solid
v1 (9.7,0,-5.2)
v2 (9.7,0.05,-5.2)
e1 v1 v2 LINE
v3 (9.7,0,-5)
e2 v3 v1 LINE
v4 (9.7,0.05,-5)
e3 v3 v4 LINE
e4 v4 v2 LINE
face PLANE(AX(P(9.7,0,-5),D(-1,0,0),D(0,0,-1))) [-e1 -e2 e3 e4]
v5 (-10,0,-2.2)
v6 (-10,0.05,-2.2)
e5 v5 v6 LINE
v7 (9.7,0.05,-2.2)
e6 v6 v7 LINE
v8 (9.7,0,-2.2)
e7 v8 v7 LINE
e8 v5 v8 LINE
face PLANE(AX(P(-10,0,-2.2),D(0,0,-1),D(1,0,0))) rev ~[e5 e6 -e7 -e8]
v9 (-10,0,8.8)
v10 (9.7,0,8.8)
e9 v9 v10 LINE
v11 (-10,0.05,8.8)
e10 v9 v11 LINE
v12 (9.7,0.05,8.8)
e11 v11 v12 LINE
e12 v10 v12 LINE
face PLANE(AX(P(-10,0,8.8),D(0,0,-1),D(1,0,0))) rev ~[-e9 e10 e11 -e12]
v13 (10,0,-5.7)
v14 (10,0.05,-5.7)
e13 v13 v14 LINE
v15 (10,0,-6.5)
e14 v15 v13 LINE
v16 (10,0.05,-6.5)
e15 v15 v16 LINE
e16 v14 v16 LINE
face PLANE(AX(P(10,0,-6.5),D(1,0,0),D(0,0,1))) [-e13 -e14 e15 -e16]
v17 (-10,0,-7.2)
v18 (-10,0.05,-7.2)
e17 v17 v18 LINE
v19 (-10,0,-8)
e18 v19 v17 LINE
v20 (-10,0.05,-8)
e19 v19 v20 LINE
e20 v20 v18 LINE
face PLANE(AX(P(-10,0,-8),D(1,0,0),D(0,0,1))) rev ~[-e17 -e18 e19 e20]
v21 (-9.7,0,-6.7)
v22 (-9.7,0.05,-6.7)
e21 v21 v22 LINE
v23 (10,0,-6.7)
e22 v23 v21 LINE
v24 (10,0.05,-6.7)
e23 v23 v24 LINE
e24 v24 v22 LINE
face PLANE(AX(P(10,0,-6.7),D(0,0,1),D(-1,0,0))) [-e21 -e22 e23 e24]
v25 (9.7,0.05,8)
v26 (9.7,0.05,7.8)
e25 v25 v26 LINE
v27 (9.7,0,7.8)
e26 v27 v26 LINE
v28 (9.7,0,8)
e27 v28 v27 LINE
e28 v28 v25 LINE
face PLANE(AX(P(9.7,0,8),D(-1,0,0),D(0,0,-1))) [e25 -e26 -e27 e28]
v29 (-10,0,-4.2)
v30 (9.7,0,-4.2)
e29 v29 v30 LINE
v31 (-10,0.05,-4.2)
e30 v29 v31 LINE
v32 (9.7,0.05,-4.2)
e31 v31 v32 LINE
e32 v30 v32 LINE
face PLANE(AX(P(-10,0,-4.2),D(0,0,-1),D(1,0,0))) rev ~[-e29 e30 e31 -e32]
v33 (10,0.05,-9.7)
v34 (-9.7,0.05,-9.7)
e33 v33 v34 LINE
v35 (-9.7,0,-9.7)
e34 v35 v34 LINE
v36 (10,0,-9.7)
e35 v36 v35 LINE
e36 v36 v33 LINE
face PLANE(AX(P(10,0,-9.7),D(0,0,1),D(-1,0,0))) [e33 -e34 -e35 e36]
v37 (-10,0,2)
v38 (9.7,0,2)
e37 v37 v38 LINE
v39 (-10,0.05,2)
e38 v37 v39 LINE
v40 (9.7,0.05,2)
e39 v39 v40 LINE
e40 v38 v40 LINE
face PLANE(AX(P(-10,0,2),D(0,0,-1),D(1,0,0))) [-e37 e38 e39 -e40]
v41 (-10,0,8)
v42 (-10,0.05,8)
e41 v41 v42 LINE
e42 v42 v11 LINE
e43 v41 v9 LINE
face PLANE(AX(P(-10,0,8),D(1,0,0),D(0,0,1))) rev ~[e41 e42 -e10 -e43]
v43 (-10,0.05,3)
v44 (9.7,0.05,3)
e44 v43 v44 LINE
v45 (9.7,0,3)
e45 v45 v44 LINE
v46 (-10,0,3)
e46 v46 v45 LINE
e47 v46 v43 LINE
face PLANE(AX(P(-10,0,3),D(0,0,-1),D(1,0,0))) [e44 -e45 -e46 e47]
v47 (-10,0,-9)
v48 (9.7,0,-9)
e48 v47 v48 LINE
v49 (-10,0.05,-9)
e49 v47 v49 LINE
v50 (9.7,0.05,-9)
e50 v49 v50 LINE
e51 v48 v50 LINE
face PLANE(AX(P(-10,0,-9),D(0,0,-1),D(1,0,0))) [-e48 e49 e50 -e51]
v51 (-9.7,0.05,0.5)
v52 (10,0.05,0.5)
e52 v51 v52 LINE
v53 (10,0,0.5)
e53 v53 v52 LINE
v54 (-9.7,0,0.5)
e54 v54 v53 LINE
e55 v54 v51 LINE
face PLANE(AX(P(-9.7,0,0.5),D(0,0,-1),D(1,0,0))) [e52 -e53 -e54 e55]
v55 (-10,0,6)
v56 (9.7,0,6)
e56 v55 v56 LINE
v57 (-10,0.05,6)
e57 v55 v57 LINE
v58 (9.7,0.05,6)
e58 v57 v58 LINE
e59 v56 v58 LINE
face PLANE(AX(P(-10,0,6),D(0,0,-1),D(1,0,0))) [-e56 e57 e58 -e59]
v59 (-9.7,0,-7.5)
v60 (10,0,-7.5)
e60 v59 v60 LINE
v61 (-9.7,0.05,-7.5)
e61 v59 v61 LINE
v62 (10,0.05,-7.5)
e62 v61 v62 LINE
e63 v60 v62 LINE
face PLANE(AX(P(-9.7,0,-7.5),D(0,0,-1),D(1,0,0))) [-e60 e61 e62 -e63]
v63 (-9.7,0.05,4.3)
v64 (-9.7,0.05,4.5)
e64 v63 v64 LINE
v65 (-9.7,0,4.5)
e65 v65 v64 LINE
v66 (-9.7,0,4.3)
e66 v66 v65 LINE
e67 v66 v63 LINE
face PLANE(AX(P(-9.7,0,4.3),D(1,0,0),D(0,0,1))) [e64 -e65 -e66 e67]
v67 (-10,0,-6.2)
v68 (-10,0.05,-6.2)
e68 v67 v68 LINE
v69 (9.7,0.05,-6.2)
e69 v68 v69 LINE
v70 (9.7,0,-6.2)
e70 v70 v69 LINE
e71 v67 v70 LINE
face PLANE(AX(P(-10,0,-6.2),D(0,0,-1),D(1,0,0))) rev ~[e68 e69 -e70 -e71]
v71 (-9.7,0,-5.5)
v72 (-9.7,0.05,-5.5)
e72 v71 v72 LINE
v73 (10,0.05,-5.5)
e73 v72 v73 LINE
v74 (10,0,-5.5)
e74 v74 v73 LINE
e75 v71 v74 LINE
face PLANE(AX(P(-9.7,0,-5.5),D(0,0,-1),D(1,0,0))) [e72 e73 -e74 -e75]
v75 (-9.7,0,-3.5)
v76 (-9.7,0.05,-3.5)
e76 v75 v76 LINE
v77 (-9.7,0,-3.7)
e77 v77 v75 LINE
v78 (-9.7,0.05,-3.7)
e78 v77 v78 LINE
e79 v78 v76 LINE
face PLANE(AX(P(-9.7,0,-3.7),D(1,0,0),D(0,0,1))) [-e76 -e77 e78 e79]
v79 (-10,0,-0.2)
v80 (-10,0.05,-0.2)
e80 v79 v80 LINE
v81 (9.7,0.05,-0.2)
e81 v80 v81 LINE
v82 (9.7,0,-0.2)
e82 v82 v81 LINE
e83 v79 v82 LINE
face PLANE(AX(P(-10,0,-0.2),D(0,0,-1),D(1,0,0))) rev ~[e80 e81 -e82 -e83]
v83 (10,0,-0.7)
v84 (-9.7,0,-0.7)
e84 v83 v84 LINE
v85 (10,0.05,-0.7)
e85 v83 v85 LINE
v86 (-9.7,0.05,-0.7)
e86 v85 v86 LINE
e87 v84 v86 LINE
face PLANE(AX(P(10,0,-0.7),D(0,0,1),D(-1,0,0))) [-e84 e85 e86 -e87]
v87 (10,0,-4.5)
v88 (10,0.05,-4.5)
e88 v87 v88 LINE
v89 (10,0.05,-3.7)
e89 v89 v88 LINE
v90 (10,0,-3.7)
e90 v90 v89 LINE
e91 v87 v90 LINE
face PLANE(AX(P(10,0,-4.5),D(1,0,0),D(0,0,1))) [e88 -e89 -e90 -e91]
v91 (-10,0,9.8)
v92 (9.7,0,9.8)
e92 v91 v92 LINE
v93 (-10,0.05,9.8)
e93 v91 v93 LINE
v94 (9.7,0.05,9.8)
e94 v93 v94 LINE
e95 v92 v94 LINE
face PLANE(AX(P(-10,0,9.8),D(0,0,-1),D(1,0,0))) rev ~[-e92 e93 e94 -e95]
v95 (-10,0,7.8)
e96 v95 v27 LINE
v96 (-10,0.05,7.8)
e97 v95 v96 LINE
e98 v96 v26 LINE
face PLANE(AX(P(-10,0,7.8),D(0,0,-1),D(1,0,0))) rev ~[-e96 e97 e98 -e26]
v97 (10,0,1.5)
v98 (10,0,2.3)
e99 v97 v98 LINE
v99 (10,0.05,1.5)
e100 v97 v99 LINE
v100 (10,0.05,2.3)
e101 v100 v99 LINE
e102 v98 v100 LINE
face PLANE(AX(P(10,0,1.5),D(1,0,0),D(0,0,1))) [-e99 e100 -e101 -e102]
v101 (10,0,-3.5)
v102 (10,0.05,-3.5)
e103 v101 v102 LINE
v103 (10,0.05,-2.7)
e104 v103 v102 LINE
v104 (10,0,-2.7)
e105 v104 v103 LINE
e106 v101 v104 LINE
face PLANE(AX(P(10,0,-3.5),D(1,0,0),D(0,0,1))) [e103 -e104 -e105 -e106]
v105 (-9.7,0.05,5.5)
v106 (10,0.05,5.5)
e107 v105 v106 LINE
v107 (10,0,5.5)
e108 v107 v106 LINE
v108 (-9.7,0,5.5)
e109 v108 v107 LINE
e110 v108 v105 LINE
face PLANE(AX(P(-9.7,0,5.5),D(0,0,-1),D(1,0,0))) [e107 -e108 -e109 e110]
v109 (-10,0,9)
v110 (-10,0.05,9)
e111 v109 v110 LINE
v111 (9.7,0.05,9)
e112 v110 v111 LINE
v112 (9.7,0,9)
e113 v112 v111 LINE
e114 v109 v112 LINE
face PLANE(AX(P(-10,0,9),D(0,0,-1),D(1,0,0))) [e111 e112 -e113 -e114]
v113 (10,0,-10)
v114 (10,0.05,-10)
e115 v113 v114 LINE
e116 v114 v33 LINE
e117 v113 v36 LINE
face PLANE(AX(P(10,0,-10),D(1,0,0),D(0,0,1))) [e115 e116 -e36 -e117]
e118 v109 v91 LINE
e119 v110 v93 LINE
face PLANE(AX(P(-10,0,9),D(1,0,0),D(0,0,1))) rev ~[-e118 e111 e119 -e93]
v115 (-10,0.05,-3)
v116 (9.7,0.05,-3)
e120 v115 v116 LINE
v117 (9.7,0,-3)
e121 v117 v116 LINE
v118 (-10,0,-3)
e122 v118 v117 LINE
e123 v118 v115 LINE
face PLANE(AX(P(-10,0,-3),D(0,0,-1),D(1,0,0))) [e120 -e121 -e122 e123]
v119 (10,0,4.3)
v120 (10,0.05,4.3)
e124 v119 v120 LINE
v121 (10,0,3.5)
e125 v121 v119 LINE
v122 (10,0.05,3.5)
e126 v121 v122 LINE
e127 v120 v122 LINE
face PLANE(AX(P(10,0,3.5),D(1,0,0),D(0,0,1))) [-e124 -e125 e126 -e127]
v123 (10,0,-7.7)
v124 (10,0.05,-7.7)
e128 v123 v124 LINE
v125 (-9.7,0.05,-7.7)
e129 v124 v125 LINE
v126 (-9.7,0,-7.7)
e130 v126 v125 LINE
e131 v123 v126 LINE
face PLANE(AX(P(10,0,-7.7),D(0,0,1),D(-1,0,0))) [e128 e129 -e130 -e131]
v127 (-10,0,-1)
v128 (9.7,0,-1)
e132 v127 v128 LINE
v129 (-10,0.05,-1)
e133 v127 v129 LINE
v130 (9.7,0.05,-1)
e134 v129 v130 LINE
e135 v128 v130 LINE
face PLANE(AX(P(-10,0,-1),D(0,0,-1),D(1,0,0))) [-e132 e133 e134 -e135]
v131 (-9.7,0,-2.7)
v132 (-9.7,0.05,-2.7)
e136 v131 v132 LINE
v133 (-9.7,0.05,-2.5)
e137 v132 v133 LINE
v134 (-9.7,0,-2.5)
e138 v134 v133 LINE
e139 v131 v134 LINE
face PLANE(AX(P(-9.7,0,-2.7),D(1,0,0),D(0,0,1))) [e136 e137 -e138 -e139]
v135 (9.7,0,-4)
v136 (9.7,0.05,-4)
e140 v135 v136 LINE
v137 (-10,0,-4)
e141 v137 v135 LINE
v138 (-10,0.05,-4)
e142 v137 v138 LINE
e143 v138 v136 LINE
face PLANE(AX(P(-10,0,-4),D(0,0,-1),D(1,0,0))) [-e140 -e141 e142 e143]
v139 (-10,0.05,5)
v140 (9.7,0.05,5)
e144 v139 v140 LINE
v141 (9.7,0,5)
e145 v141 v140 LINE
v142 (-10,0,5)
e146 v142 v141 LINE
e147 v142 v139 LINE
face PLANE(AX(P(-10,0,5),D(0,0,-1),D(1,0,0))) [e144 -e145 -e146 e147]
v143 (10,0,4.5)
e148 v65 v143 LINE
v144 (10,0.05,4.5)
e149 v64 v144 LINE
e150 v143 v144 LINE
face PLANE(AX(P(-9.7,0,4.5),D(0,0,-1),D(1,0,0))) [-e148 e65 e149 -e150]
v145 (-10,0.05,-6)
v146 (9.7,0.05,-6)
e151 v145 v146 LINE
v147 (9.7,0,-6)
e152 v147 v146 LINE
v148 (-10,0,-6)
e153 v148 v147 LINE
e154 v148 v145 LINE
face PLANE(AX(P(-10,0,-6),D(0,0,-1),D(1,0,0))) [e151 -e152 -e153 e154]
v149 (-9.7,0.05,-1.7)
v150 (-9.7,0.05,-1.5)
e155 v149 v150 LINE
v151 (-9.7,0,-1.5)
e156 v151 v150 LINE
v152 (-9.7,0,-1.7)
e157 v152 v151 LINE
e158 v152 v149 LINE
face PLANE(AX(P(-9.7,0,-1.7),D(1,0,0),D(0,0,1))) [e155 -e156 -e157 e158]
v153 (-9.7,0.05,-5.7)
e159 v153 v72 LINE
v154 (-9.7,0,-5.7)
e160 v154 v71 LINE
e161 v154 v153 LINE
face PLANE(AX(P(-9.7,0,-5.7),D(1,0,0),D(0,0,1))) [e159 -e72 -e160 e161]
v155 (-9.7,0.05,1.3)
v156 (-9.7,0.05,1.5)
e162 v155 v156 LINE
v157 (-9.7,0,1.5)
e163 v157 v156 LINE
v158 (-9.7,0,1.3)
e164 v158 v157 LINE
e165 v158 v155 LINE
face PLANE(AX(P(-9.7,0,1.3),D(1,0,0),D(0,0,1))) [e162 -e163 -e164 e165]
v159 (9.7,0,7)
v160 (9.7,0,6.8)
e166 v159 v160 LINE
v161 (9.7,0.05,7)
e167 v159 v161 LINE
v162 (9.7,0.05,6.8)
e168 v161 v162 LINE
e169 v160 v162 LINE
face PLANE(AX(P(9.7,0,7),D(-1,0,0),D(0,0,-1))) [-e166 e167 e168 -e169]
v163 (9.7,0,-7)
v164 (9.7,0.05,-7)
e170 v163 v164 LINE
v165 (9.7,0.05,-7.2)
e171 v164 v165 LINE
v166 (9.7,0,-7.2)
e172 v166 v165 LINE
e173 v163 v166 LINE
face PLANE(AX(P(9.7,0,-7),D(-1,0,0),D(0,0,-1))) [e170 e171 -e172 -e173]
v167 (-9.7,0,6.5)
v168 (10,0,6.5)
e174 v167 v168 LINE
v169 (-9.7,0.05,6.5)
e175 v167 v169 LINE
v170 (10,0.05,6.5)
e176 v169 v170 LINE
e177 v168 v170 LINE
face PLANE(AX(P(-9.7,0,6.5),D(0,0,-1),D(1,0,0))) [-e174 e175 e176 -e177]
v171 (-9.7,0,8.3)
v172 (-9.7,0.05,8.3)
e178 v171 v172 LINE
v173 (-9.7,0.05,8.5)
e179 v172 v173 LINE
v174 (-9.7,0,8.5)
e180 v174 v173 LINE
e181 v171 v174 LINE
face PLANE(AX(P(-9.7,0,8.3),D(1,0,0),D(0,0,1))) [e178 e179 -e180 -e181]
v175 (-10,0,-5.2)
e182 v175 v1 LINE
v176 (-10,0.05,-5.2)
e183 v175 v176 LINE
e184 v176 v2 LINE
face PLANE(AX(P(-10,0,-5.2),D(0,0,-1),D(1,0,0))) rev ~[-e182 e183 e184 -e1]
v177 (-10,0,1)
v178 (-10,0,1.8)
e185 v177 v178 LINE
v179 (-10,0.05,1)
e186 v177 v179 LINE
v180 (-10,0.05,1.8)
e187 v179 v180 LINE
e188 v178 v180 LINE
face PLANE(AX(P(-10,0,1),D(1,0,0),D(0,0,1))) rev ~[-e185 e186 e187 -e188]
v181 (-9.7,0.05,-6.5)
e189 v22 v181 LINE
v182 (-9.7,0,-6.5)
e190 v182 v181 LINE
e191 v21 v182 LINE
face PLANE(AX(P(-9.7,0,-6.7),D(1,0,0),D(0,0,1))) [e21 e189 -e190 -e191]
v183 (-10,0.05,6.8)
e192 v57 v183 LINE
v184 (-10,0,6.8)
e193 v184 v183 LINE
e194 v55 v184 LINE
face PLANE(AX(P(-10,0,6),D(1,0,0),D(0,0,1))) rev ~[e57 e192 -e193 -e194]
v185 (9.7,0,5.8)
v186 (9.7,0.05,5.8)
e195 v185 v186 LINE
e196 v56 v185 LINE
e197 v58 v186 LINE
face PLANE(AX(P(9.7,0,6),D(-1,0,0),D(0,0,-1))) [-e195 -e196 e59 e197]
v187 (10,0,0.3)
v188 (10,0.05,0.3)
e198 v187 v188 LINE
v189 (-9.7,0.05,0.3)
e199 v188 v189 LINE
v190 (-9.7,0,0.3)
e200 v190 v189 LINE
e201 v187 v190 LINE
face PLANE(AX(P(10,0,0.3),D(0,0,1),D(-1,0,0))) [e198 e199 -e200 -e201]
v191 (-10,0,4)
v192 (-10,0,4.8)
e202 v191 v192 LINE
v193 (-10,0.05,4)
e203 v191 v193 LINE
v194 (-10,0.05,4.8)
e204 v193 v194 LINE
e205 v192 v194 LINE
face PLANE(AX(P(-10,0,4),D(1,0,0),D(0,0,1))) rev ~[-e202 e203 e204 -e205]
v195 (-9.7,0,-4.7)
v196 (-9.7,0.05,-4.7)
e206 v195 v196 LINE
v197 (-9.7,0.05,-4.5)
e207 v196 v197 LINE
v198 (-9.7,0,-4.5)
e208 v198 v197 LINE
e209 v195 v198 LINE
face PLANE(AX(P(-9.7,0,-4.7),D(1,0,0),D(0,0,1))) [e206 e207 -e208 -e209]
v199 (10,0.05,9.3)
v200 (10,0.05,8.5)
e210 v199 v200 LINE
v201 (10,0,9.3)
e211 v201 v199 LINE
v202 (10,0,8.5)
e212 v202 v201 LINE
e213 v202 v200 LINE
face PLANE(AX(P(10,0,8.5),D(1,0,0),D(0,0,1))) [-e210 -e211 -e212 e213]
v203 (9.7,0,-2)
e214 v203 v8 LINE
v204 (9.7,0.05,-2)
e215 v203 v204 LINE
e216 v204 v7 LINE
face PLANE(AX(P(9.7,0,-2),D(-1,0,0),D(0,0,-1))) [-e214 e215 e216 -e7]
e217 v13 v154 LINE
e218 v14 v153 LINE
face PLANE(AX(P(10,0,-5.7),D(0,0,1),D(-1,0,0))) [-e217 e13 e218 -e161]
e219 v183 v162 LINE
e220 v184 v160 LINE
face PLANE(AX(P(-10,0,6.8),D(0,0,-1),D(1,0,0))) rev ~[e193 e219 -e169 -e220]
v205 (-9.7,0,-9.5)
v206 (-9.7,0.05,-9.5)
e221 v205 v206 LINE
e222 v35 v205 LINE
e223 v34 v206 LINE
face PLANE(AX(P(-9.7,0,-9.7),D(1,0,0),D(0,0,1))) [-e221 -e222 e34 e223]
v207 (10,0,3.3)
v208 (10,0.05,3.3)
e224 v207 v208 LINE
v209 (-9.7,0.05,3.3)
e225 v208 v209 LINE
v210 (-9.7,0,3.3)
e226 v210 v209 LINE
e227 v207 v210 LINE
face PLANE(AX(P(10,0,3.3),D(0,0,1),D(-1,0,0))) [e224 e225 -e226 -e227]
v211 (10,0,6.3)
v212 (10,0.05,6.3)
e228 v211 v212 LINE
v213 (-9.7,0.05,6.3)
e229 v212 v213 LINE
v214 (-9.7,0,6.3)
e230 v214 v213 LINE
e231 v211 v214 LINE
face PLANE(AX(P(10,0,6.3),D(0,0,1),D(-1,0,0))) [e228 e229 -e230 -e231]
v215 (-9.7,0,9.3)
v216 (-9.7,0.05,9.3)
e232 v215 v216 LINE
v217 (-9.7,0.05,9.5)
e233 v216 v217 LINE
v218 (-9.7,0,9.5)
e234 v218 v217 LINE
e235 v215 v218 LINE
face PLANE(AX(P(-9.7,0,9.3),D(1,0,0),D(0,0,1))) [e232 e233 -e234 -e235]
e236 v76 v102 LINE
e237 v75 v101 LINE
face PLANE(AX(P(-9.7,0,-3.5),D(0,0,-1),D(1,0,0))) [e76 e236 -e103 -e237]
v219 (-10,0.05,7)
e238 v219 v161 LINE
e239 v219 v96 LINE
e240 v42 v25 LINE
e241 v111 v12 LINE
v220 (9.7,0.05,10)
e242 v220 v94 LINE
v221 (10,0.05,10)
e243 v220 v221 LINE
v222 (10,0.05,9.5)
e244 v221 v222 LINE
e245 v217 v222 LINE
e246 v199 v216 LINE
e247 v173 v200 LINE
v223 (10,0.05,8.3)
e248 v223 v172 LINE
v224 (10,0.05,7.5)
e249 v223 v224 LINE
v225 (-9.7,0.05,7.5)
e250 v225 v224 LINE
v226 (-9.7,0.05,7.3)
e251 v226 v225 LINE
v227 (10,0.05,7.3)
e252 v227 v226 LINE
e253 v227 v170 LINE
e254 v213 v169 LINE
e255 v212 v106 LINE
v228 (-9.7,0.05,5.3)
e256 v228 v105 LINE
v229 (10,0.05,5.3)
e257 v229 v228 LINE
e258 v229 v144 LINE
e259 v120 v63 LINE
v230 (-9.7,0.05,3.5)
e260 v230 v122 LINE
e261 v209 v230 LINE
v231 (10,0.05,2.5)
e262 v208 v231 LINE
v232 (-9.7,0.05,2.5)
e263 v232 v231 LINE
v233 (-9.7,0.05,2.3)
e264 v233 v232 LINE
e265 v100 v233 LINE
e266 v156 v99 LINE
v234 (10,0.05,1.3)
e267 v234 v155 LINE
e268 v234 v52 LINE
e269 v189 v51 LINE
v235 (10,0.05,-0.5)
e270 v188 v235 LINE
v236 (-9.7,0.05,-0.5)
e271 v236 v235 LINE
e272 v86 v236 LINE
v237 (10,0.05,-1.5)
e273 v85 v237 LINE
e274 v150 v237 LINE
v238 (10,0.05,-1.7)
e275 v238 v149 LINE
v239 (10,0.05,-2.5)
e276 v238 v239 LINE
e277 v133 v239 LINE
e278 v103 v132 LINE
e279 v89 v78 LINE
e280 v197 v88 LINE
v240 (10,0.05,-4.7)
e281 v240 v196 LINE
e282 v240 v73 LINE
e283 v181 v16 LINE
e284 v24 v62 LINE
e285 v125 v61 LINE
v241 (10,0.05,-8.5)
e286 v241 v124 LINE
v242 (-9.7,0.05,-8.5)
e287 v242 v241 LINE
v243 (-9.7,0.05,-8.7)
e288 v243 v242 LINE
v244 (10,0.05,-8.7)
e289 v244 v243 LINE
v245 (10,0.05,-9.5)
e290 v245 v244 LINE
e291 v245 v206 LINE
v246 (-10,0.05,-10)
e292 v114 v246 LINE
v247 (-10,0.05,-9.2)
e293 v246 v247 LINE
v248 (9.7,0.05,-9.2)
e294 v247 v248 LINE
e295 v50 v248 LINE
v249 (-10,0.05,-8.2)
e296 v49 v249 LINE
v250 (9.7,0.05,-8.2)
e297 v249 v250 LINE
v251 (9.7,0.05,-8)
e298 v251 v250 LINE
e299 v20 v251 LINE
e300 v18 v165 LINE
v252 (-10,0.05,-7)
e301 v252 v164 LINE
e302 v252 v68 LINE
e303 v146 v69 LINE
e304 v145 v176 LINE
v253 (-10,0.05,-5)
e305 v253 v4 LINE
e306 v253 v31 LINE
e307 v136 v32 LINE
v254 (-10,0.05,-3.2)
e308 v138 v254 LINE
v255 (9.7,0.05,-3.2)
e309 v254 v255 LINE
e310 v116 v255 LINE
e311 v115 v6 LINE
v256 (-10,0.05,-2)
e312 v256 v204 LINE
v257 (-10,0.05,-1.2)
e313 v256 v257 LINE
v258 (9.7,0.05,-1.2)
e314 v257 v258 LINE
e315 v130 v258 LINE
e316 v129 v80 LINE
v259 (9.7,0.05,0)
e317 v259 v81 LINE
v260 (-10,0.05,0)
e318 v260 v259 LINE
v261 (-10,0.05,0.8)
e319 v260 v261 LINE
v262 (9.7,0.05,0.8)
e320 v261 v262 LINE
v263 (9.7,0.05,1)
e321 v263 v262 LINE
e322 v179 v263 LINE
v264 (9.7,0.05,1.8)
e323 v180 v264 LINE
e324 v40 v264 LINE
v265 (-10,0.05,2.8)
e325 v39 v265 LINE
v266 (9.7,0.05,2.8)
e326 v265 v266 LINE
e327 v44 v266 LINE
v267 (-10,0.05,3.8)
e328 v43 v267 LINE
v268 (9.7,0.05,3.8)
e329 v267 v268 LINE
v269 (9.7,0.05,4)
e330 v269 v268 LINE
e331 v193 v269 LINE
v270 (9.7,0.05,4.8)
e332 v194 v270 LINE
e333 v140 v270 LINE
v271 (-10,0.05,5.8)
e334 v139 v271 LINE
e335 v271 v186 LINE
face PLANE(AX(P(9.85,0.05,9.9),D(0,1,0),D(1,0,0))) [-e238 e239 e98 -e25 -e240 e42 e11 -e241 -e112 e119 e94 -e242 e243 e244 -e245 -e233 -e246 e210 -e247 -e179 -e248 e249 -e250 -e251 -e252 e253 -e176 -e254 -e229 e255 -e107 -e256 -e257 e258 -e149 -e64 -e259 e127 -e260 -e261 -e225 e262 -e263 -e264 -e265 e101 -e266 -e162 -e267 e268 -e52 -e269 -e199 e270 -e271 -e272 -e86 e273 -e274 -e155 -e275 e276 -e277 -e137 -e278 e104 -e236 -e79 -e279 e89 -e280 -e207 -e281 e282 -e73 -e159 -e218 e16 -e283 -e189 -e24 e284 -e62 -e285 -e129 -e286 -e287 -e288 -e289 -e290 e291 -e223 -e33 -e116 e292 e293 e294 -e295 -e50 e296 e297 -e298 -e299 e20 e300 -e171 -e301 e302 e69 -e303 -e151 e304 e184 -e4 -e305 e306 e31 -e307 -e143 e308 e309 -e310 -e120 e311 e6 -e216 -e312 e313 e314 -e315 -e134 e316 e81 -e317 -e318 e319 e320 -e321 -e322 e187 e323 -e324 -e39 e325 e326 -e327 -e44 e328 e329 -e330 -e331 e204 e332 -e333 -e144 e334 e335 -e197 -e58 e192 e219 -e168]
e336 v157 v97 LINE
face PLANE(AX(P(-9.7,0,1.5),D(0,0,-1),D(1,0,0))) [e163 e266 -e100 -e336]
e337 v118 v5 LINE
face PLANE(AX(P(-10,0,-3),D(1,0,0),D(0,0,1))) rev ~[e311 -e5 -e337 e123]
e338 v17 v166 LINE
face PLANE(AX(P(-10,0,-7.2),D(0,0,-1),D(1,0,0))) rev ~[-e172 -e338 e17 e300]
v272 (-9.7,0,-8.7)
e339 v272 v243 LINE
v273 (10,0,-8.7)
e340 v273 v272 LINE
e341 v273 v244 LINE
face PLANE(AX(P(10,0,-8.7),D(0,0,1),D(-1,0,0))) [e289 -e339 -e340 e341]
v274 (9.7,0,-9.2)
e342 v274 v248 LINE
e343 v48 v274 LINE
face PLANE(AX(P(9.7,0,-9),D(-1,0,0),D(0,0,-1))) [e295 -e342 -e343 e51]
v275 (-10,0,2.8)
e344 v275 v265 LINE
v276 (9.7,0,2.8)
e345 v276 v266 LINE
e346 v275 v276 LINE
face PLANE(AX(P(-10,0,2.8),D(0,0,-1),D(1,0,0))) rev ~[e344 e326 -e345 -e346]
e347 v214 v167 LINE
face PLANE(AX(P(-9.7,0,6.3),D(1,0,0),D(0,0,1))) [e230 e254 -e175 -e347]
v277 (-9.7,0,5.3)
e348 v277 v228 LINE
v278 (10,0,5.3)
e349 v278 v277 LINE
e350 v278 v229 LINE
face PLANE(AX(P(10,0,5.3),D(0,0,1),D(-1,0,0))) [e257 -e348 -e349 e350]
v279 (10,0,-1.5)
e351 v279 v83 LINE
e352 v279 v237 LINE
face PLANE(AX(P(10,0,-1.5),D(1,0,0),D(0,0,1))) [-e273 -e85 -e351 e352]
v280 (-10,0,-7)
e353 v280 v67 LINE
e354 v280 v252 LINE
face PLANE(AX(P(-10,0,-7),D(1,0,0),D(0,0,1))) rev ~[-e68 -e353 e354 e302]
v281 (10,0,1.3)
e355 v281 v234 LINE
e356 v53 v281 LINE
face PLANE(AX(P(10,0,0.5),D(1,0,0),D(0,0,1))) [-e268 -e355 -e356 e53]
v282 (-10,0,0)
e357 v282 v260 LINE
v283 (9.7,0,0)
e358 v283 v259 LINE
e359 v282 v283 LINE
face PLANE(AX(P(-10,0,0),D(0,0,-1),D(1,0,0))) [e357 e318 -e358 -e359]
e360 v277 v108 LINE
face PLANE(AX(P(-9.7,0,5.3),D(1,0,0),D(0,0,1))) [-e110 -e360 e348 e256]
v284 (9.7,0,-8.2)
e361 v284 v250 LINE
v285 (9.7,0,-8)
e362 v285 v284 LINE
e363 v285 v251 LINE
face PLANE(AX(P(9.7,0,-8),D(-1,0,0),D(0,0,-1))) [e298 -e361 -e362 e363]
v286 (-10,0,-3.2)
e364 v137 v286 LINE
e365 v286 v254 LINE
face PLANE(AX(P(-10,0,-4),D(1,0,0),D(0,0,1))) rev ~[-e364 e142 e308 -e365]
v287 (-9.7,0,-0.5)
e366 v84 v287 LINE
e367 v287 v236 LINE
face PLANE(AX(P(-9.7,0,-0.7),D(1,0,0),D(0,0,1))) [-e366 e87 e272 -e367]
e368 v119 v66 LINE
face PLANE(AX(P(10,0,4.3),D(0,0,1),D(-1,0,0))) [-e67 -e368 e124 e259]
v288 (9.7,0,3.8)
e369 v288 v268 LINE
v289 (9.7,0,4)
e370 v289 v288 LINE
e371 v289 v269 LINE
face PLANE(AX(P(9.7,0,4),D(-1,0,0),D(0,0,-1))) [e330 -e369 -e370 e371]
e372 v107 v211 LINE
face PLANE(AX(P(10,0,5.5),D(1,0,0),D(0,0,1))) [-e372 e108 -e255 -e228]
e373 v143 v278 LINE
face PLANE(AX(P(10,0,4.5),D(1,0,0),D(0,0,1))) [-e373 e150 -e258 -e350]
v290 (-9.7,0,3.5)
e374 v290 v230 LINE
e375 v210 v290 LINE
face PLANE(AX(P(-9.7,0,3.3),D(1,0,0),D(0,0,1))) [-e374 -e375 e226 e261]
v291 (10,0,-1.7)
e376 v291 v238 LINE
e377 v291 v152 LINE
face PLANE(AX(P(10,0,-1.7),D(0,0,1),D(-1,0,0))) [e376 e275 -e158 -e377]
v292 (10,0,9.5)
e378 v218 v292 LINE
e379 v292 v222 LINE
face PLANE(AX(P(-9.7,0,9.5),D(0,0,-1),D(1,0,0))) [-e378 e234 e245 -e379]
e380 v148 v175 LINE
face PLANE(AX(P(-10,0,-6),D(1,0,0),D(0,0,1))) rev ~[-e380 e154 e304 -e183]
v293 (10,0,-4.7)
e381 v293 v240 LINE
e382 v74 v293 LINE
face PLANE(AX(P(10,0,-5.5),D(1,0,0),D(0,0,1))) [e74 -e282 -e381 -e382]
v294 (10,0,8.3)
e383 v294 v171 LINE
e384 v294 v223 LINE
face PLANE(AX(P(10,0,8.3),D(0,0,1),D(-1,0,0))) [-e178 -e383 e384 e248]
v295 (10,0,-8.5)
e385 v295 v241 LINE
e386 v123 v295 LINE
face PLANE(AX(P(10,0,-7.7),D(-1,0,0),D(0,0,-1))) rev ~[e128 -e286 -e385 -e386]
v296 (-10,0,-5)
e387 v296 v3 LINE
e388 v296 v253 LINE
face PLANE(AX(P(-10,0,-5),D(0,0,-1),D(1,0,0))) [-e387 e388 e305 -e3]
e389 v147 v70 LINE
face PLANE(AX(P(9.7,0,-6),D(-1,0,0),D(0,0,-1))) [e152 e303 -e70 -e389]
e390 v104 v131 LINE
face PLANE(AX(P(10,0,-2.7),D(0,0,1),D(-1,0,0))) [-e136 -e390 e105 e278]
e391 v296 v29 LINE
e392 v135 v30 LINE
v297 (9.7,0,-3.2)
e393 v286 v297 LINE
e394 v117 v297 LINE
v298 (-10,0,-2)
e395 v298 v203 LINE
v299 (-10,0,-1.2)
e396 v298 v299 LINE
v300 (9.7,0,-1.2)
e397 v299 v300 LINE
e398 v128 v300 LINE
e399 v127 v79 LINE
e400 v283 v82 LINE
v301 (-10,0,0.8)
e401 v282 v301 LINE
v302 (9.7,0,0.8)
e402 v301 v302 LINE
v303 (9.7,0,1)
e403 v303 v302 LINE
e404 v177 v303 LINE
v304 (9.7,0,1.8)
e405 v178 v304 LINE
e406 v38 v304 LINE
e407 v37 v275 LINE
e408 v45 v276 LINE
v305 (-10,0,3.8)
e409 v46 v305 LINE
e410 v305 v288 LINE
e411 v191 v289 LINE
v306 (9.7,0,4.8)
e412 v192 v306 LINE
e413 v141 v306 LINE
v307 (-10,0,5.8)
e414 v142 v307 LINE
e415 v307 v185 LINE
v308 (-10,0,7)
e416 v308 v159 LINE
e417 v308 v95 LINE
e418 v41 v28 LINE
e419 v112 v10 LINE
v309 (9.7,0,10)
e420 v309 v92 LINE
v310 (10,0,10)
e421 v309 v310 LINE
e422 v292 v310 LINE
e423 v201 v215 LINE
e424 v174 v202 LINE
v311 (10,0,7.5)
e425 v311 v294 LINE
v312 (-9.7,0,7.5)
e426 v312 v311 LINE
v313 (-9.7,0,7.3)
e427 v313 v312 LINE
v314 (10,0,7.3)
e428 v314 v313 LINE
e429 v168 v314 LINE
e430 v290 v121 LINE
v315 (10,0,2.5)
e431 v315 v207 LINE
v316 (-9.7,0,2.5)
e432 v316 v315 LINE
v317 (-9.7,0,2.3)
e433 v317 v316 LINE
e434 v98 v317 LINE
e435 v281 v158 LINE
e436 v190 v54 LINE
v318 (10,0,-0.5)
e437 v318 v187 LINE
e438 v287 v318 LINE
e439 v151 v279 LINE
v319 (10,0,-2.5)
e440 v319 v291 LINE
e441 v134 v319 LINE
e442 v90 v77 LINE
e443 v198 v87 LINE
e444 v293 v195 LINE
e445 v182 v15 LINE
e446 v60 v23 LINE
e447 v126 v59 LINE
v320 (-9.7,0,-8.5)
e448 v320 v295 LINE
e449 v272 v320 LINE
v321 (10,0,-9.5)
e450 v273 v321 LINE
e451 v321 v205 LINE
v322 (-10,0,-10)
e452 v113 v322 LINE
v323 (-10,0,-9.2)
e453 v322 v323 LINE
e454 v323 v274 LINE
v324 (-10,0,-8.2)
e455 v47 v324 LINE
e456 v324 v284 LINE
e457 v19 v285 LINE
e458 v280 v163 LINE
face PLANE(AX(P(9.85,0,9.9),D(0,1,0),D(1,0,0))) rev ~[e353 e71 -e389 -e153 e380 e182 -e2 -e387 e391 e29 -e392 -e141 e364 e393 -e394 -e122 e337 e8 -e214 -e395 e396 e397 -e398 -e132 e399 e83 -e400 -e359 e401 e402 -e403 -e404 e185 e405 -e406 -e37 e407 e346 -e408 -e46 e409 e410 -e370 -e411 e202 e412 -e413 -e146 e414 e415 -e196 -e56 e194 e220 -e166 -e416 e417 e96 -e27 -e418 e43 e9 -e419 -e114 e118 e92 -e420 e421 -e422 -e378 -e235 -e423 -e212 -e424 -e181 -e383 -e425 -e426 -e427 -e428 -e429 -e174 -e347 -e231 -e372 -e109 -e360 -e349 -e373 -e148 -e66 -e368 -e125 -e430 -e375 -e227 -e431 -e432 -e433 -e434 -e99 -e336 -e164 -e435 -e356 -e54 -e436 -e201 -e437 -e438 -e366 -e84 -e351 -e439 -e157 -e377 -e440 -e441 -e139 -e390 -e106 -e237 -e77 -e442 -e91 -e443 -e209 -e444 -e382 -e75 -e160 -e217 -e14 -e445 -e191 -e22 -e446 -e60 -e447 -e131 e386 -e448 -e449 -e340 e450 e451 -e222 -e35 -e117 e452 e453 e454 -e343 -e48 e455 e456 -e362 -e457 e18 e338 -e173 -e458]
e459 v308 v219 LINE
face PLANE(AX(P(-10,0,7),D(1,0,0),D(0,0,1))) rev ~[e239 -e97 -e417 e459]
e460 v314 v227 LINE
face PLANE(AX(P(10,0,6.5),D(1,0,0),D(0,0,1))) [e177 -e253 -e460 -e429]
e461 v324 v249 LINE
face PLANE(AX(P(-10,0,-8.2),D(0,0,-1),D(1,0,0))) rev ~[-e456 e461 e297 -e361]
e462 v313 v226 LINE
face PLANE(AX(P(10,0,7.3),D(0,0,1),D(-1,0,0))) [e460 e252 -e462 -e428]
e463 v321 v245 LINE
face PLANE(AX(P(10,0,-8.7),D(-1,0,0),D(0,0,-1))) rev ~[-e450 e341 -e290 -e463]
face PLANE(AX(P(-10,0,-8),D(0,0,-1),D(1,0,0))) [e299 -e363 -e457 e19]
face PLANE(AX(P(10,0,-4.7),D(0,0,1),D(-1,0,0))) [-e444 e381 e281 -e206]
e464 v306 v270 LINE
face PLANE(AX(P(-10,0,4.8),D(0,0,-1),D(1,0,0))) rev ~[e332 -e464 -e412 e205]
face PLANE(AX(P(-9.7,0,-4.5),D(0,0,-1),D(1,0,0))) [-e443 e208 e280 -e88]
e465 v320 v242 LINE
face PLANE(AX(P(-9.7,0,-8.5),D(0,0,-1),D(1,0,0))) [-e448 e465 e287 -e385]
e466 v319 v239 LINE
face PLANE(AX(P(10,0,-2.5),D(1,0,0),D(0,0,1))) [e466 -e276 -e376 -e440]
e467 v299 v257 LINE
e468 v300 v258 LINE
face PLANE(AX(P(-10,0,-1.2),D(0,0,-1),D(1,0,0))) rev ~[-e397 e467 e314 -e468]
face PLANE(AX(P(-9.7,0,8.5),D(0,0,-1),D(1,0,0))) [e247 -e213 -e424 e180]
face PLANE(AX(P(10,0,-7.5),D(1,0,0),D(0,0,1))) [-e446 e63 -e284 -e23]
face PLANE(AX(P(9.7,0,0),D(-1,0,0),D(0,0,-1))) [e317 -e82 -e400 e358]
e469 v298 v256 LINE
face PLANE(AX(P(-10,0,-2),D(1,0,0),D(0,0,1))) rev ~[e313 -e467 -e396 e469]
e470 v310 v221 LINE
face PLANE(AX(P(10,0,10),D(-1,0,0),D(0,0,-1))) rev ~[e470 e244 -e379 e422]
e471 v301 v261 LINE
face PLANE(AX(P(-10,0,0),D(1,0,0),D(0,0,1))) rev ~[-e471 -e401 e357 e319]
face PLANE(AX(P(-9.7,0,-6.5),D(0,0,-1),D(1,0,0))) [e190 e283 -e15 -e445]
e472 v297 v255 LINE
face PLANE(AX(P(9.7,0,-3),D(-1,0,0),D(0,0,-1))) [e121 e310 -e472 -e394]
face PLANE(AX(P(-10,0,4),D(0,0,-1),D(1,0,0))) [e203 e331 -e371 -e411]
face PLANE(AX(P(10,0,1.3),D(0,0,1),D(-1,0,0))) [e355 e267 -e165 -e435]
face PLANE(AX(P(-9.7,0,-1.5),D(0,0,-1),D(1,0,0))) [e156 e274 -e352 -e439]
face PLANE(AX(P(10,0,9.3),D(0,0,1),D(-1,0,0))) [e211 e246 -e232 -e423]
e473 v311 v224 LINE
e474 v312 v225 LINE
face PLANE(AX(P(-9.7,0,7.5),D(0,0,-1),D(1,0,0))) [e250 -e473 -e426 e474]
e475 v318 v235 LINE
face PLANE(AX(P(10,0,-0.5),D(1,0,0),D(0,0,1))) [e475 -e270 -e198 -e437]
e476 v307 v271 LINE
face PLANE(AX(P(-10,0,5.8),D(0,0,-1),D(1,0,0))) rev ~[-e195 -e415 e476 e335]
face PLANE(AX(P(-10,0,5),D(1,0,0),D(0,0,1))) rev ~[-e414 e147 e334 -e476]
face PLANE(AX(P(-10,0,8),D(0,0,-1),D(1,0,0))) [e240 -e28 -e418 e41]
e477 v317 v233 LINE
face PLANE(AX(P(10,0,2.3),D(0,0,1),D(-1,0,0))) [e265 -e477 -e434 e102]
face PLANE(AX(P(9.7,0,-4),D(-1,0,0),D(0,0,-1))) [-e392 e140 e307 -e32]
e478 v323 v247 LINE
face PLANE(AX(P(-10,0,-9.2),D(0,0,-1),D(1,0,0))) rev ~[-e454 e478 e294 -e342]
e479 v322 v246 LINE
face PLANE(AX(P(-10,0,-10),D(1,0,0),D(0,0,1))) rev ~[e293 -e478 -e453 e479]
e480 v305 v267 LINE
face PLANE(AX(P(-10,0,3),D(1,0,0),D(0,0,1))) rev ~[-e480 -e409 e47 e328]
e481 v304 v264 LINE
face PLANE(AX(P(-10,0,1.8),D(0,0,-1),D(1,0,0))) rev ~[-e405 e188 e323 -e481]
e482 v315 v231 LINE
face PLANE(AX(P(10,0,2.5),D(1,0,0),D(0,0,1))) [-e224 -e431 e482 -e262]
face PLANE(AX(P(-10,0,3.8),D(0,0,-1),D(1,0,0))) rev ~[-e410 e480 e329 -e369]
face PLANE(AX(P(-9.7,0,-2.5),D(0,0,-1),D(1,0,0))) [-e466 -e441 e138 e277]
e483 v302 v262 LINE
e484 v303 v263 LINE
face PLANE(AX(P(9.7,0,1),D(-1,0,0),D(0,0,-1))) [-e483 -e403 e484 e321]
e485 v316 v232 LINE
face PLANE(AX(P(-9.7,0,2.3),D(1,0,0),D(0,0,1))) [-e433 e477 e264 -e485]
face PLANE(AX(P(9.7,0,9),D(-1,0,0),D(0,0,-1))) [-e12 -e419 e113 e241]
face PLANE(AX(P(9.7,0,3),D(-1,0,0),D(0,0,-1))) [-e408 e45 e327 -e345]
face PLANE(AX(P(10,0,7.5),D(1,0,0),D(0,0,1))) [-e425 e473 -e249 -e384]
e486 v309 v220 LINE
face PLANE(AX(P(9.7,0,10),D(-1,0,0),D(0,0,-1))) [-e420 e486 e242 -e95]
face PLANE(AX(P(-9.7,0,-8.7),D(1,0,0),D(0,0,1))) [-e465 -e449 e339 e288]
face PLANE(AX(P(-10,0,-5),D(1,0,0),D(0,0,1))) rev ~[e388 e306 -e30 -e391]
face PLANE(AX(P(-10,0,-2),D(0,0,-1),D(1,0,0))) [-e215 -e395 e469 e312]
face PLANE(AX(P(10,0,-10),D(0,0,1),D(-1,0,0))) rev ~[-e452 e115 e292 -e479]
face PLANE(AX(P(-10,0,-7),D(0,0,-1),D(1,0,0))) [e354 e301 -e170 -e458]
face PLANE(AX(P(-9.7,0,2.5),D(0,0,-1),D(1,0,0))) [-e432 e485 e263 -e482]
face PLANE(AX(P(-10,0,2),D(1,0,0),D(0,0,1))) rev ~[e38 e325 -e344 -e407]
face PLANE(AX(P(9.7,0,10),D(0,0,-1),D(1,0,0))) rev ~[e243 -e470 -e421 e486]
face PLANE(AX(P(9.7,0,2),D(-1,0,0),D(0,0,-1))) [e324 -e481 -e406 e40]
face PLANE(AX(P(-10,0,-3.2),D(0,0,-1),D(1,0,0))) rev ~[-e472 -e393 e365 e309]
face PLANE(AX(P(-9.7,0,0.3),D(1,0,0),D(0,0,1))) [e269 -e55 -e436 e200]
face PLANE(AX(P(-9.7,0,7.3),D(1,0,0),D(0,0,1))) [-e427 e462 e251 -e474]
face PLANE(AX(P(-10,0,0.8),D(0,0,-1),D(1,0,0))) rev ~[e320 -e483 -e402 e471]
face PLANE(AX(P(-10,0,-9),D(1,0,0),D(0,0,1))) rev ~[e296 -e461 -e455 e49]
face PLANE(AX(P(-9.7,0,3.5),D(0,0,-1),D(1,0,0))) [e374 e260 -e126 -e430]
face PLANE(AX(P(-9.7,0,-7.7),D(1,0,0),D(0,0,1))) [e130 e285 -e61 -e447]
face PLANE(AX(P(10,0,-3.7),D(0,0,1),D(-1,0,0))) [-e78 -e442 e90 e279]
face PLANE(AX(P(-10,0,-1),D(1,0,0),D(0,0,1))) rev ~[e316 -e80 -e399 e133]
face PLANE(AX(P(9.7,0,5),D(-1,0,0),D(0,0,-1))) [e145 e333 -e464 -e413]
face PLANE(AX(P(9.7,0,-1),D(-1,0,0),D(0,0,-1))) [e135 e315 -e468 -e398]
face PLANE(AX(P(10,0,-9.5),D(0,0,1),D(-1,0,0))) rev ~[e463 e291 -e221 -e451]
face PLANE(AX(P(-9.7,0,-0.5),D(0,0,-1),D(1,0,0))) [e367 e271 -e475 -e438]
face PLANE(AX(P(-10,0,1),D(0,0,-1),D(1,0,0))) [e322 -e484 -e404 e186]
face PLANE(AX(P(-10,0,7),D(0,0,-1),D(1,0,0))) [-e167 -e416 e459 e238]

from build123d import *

# Parameters (mm, degrees)
EXTRUDED_OBJECT_DEPTH = 0.05
BOSS_EXTRUDE2_DEPTH   = 0.05
LPATTERN1_COUNT       = 19
LPATTERN1_PITCH       = 1
SKETCH1_W             = 0.3
SKETCH1_H             = 0.2
BOSS_EXTRUDE3_DEPTH   = 0.05


with BuildPart() as part:
    # TopBlock → Extruded object (new body)
    with BuildSketch(Plane(origin=(0, 0, 0), x_dir=(1, 0, 0), z_dir=(0, 1, 0))):
        Polygon((-10, 10), (-9.7, 10), (10, 10), (10, 9.7), (-9.7, 9.7), (-9.7, 9.5), (9.7, 9.5), (10, 9.5), (10, 9.2), (9.7, 9.2), (-9.7, 9.2), (-10, 9.2), (-10, 9.5), (-10, 9.7), align=None)
    extrude(amount=EXTRUDED_OBJECT_DEPTH)

    # GapandInbetween → Boss-Extrude2 (add)
    with BuildSketch(Plane(origin=(0, 0, 0), x_dir=(1, 0, 0), z_dir=(0, 1, 0))):
        Polygon((10, 9.2), (10, 9), (10, 8.7), (-9.7, 8.7), (-9.7, 8.5), (10, 8.5), (10, 8.2), (9.7, 8.2), (-10, 8.2), (-10, 8.5), (-10, 8.7), (-10, 9), (9.7, 9), (9.7, 9.2), align=None)
    boss_extrude2 = extrude(amount=BOSS_EXTRUDE2_DEPTH)

    # LPattern1: Boss-Extrude2 ×19
    with Locations(*[(0, 0, i * LPATTERN1_PITCH) for i in range(1, LPATTERN1_COUNT)]):
        add(boss_extrude2)

    # Sketch1 → Boss-Extrude3 (add)
    with BuildSketch(Plane(origin=(0, 0, 0), x_dir=(1, 0, 0), z_dir=(0, 1, 0))):
        with Locations((9.85, -9.9)):
            Rectangle(SKETCH1_W, SKETCH1_H)
    extrude(amount=BOSS_EXTRUDE3_DEPTH)


solid = part.part
